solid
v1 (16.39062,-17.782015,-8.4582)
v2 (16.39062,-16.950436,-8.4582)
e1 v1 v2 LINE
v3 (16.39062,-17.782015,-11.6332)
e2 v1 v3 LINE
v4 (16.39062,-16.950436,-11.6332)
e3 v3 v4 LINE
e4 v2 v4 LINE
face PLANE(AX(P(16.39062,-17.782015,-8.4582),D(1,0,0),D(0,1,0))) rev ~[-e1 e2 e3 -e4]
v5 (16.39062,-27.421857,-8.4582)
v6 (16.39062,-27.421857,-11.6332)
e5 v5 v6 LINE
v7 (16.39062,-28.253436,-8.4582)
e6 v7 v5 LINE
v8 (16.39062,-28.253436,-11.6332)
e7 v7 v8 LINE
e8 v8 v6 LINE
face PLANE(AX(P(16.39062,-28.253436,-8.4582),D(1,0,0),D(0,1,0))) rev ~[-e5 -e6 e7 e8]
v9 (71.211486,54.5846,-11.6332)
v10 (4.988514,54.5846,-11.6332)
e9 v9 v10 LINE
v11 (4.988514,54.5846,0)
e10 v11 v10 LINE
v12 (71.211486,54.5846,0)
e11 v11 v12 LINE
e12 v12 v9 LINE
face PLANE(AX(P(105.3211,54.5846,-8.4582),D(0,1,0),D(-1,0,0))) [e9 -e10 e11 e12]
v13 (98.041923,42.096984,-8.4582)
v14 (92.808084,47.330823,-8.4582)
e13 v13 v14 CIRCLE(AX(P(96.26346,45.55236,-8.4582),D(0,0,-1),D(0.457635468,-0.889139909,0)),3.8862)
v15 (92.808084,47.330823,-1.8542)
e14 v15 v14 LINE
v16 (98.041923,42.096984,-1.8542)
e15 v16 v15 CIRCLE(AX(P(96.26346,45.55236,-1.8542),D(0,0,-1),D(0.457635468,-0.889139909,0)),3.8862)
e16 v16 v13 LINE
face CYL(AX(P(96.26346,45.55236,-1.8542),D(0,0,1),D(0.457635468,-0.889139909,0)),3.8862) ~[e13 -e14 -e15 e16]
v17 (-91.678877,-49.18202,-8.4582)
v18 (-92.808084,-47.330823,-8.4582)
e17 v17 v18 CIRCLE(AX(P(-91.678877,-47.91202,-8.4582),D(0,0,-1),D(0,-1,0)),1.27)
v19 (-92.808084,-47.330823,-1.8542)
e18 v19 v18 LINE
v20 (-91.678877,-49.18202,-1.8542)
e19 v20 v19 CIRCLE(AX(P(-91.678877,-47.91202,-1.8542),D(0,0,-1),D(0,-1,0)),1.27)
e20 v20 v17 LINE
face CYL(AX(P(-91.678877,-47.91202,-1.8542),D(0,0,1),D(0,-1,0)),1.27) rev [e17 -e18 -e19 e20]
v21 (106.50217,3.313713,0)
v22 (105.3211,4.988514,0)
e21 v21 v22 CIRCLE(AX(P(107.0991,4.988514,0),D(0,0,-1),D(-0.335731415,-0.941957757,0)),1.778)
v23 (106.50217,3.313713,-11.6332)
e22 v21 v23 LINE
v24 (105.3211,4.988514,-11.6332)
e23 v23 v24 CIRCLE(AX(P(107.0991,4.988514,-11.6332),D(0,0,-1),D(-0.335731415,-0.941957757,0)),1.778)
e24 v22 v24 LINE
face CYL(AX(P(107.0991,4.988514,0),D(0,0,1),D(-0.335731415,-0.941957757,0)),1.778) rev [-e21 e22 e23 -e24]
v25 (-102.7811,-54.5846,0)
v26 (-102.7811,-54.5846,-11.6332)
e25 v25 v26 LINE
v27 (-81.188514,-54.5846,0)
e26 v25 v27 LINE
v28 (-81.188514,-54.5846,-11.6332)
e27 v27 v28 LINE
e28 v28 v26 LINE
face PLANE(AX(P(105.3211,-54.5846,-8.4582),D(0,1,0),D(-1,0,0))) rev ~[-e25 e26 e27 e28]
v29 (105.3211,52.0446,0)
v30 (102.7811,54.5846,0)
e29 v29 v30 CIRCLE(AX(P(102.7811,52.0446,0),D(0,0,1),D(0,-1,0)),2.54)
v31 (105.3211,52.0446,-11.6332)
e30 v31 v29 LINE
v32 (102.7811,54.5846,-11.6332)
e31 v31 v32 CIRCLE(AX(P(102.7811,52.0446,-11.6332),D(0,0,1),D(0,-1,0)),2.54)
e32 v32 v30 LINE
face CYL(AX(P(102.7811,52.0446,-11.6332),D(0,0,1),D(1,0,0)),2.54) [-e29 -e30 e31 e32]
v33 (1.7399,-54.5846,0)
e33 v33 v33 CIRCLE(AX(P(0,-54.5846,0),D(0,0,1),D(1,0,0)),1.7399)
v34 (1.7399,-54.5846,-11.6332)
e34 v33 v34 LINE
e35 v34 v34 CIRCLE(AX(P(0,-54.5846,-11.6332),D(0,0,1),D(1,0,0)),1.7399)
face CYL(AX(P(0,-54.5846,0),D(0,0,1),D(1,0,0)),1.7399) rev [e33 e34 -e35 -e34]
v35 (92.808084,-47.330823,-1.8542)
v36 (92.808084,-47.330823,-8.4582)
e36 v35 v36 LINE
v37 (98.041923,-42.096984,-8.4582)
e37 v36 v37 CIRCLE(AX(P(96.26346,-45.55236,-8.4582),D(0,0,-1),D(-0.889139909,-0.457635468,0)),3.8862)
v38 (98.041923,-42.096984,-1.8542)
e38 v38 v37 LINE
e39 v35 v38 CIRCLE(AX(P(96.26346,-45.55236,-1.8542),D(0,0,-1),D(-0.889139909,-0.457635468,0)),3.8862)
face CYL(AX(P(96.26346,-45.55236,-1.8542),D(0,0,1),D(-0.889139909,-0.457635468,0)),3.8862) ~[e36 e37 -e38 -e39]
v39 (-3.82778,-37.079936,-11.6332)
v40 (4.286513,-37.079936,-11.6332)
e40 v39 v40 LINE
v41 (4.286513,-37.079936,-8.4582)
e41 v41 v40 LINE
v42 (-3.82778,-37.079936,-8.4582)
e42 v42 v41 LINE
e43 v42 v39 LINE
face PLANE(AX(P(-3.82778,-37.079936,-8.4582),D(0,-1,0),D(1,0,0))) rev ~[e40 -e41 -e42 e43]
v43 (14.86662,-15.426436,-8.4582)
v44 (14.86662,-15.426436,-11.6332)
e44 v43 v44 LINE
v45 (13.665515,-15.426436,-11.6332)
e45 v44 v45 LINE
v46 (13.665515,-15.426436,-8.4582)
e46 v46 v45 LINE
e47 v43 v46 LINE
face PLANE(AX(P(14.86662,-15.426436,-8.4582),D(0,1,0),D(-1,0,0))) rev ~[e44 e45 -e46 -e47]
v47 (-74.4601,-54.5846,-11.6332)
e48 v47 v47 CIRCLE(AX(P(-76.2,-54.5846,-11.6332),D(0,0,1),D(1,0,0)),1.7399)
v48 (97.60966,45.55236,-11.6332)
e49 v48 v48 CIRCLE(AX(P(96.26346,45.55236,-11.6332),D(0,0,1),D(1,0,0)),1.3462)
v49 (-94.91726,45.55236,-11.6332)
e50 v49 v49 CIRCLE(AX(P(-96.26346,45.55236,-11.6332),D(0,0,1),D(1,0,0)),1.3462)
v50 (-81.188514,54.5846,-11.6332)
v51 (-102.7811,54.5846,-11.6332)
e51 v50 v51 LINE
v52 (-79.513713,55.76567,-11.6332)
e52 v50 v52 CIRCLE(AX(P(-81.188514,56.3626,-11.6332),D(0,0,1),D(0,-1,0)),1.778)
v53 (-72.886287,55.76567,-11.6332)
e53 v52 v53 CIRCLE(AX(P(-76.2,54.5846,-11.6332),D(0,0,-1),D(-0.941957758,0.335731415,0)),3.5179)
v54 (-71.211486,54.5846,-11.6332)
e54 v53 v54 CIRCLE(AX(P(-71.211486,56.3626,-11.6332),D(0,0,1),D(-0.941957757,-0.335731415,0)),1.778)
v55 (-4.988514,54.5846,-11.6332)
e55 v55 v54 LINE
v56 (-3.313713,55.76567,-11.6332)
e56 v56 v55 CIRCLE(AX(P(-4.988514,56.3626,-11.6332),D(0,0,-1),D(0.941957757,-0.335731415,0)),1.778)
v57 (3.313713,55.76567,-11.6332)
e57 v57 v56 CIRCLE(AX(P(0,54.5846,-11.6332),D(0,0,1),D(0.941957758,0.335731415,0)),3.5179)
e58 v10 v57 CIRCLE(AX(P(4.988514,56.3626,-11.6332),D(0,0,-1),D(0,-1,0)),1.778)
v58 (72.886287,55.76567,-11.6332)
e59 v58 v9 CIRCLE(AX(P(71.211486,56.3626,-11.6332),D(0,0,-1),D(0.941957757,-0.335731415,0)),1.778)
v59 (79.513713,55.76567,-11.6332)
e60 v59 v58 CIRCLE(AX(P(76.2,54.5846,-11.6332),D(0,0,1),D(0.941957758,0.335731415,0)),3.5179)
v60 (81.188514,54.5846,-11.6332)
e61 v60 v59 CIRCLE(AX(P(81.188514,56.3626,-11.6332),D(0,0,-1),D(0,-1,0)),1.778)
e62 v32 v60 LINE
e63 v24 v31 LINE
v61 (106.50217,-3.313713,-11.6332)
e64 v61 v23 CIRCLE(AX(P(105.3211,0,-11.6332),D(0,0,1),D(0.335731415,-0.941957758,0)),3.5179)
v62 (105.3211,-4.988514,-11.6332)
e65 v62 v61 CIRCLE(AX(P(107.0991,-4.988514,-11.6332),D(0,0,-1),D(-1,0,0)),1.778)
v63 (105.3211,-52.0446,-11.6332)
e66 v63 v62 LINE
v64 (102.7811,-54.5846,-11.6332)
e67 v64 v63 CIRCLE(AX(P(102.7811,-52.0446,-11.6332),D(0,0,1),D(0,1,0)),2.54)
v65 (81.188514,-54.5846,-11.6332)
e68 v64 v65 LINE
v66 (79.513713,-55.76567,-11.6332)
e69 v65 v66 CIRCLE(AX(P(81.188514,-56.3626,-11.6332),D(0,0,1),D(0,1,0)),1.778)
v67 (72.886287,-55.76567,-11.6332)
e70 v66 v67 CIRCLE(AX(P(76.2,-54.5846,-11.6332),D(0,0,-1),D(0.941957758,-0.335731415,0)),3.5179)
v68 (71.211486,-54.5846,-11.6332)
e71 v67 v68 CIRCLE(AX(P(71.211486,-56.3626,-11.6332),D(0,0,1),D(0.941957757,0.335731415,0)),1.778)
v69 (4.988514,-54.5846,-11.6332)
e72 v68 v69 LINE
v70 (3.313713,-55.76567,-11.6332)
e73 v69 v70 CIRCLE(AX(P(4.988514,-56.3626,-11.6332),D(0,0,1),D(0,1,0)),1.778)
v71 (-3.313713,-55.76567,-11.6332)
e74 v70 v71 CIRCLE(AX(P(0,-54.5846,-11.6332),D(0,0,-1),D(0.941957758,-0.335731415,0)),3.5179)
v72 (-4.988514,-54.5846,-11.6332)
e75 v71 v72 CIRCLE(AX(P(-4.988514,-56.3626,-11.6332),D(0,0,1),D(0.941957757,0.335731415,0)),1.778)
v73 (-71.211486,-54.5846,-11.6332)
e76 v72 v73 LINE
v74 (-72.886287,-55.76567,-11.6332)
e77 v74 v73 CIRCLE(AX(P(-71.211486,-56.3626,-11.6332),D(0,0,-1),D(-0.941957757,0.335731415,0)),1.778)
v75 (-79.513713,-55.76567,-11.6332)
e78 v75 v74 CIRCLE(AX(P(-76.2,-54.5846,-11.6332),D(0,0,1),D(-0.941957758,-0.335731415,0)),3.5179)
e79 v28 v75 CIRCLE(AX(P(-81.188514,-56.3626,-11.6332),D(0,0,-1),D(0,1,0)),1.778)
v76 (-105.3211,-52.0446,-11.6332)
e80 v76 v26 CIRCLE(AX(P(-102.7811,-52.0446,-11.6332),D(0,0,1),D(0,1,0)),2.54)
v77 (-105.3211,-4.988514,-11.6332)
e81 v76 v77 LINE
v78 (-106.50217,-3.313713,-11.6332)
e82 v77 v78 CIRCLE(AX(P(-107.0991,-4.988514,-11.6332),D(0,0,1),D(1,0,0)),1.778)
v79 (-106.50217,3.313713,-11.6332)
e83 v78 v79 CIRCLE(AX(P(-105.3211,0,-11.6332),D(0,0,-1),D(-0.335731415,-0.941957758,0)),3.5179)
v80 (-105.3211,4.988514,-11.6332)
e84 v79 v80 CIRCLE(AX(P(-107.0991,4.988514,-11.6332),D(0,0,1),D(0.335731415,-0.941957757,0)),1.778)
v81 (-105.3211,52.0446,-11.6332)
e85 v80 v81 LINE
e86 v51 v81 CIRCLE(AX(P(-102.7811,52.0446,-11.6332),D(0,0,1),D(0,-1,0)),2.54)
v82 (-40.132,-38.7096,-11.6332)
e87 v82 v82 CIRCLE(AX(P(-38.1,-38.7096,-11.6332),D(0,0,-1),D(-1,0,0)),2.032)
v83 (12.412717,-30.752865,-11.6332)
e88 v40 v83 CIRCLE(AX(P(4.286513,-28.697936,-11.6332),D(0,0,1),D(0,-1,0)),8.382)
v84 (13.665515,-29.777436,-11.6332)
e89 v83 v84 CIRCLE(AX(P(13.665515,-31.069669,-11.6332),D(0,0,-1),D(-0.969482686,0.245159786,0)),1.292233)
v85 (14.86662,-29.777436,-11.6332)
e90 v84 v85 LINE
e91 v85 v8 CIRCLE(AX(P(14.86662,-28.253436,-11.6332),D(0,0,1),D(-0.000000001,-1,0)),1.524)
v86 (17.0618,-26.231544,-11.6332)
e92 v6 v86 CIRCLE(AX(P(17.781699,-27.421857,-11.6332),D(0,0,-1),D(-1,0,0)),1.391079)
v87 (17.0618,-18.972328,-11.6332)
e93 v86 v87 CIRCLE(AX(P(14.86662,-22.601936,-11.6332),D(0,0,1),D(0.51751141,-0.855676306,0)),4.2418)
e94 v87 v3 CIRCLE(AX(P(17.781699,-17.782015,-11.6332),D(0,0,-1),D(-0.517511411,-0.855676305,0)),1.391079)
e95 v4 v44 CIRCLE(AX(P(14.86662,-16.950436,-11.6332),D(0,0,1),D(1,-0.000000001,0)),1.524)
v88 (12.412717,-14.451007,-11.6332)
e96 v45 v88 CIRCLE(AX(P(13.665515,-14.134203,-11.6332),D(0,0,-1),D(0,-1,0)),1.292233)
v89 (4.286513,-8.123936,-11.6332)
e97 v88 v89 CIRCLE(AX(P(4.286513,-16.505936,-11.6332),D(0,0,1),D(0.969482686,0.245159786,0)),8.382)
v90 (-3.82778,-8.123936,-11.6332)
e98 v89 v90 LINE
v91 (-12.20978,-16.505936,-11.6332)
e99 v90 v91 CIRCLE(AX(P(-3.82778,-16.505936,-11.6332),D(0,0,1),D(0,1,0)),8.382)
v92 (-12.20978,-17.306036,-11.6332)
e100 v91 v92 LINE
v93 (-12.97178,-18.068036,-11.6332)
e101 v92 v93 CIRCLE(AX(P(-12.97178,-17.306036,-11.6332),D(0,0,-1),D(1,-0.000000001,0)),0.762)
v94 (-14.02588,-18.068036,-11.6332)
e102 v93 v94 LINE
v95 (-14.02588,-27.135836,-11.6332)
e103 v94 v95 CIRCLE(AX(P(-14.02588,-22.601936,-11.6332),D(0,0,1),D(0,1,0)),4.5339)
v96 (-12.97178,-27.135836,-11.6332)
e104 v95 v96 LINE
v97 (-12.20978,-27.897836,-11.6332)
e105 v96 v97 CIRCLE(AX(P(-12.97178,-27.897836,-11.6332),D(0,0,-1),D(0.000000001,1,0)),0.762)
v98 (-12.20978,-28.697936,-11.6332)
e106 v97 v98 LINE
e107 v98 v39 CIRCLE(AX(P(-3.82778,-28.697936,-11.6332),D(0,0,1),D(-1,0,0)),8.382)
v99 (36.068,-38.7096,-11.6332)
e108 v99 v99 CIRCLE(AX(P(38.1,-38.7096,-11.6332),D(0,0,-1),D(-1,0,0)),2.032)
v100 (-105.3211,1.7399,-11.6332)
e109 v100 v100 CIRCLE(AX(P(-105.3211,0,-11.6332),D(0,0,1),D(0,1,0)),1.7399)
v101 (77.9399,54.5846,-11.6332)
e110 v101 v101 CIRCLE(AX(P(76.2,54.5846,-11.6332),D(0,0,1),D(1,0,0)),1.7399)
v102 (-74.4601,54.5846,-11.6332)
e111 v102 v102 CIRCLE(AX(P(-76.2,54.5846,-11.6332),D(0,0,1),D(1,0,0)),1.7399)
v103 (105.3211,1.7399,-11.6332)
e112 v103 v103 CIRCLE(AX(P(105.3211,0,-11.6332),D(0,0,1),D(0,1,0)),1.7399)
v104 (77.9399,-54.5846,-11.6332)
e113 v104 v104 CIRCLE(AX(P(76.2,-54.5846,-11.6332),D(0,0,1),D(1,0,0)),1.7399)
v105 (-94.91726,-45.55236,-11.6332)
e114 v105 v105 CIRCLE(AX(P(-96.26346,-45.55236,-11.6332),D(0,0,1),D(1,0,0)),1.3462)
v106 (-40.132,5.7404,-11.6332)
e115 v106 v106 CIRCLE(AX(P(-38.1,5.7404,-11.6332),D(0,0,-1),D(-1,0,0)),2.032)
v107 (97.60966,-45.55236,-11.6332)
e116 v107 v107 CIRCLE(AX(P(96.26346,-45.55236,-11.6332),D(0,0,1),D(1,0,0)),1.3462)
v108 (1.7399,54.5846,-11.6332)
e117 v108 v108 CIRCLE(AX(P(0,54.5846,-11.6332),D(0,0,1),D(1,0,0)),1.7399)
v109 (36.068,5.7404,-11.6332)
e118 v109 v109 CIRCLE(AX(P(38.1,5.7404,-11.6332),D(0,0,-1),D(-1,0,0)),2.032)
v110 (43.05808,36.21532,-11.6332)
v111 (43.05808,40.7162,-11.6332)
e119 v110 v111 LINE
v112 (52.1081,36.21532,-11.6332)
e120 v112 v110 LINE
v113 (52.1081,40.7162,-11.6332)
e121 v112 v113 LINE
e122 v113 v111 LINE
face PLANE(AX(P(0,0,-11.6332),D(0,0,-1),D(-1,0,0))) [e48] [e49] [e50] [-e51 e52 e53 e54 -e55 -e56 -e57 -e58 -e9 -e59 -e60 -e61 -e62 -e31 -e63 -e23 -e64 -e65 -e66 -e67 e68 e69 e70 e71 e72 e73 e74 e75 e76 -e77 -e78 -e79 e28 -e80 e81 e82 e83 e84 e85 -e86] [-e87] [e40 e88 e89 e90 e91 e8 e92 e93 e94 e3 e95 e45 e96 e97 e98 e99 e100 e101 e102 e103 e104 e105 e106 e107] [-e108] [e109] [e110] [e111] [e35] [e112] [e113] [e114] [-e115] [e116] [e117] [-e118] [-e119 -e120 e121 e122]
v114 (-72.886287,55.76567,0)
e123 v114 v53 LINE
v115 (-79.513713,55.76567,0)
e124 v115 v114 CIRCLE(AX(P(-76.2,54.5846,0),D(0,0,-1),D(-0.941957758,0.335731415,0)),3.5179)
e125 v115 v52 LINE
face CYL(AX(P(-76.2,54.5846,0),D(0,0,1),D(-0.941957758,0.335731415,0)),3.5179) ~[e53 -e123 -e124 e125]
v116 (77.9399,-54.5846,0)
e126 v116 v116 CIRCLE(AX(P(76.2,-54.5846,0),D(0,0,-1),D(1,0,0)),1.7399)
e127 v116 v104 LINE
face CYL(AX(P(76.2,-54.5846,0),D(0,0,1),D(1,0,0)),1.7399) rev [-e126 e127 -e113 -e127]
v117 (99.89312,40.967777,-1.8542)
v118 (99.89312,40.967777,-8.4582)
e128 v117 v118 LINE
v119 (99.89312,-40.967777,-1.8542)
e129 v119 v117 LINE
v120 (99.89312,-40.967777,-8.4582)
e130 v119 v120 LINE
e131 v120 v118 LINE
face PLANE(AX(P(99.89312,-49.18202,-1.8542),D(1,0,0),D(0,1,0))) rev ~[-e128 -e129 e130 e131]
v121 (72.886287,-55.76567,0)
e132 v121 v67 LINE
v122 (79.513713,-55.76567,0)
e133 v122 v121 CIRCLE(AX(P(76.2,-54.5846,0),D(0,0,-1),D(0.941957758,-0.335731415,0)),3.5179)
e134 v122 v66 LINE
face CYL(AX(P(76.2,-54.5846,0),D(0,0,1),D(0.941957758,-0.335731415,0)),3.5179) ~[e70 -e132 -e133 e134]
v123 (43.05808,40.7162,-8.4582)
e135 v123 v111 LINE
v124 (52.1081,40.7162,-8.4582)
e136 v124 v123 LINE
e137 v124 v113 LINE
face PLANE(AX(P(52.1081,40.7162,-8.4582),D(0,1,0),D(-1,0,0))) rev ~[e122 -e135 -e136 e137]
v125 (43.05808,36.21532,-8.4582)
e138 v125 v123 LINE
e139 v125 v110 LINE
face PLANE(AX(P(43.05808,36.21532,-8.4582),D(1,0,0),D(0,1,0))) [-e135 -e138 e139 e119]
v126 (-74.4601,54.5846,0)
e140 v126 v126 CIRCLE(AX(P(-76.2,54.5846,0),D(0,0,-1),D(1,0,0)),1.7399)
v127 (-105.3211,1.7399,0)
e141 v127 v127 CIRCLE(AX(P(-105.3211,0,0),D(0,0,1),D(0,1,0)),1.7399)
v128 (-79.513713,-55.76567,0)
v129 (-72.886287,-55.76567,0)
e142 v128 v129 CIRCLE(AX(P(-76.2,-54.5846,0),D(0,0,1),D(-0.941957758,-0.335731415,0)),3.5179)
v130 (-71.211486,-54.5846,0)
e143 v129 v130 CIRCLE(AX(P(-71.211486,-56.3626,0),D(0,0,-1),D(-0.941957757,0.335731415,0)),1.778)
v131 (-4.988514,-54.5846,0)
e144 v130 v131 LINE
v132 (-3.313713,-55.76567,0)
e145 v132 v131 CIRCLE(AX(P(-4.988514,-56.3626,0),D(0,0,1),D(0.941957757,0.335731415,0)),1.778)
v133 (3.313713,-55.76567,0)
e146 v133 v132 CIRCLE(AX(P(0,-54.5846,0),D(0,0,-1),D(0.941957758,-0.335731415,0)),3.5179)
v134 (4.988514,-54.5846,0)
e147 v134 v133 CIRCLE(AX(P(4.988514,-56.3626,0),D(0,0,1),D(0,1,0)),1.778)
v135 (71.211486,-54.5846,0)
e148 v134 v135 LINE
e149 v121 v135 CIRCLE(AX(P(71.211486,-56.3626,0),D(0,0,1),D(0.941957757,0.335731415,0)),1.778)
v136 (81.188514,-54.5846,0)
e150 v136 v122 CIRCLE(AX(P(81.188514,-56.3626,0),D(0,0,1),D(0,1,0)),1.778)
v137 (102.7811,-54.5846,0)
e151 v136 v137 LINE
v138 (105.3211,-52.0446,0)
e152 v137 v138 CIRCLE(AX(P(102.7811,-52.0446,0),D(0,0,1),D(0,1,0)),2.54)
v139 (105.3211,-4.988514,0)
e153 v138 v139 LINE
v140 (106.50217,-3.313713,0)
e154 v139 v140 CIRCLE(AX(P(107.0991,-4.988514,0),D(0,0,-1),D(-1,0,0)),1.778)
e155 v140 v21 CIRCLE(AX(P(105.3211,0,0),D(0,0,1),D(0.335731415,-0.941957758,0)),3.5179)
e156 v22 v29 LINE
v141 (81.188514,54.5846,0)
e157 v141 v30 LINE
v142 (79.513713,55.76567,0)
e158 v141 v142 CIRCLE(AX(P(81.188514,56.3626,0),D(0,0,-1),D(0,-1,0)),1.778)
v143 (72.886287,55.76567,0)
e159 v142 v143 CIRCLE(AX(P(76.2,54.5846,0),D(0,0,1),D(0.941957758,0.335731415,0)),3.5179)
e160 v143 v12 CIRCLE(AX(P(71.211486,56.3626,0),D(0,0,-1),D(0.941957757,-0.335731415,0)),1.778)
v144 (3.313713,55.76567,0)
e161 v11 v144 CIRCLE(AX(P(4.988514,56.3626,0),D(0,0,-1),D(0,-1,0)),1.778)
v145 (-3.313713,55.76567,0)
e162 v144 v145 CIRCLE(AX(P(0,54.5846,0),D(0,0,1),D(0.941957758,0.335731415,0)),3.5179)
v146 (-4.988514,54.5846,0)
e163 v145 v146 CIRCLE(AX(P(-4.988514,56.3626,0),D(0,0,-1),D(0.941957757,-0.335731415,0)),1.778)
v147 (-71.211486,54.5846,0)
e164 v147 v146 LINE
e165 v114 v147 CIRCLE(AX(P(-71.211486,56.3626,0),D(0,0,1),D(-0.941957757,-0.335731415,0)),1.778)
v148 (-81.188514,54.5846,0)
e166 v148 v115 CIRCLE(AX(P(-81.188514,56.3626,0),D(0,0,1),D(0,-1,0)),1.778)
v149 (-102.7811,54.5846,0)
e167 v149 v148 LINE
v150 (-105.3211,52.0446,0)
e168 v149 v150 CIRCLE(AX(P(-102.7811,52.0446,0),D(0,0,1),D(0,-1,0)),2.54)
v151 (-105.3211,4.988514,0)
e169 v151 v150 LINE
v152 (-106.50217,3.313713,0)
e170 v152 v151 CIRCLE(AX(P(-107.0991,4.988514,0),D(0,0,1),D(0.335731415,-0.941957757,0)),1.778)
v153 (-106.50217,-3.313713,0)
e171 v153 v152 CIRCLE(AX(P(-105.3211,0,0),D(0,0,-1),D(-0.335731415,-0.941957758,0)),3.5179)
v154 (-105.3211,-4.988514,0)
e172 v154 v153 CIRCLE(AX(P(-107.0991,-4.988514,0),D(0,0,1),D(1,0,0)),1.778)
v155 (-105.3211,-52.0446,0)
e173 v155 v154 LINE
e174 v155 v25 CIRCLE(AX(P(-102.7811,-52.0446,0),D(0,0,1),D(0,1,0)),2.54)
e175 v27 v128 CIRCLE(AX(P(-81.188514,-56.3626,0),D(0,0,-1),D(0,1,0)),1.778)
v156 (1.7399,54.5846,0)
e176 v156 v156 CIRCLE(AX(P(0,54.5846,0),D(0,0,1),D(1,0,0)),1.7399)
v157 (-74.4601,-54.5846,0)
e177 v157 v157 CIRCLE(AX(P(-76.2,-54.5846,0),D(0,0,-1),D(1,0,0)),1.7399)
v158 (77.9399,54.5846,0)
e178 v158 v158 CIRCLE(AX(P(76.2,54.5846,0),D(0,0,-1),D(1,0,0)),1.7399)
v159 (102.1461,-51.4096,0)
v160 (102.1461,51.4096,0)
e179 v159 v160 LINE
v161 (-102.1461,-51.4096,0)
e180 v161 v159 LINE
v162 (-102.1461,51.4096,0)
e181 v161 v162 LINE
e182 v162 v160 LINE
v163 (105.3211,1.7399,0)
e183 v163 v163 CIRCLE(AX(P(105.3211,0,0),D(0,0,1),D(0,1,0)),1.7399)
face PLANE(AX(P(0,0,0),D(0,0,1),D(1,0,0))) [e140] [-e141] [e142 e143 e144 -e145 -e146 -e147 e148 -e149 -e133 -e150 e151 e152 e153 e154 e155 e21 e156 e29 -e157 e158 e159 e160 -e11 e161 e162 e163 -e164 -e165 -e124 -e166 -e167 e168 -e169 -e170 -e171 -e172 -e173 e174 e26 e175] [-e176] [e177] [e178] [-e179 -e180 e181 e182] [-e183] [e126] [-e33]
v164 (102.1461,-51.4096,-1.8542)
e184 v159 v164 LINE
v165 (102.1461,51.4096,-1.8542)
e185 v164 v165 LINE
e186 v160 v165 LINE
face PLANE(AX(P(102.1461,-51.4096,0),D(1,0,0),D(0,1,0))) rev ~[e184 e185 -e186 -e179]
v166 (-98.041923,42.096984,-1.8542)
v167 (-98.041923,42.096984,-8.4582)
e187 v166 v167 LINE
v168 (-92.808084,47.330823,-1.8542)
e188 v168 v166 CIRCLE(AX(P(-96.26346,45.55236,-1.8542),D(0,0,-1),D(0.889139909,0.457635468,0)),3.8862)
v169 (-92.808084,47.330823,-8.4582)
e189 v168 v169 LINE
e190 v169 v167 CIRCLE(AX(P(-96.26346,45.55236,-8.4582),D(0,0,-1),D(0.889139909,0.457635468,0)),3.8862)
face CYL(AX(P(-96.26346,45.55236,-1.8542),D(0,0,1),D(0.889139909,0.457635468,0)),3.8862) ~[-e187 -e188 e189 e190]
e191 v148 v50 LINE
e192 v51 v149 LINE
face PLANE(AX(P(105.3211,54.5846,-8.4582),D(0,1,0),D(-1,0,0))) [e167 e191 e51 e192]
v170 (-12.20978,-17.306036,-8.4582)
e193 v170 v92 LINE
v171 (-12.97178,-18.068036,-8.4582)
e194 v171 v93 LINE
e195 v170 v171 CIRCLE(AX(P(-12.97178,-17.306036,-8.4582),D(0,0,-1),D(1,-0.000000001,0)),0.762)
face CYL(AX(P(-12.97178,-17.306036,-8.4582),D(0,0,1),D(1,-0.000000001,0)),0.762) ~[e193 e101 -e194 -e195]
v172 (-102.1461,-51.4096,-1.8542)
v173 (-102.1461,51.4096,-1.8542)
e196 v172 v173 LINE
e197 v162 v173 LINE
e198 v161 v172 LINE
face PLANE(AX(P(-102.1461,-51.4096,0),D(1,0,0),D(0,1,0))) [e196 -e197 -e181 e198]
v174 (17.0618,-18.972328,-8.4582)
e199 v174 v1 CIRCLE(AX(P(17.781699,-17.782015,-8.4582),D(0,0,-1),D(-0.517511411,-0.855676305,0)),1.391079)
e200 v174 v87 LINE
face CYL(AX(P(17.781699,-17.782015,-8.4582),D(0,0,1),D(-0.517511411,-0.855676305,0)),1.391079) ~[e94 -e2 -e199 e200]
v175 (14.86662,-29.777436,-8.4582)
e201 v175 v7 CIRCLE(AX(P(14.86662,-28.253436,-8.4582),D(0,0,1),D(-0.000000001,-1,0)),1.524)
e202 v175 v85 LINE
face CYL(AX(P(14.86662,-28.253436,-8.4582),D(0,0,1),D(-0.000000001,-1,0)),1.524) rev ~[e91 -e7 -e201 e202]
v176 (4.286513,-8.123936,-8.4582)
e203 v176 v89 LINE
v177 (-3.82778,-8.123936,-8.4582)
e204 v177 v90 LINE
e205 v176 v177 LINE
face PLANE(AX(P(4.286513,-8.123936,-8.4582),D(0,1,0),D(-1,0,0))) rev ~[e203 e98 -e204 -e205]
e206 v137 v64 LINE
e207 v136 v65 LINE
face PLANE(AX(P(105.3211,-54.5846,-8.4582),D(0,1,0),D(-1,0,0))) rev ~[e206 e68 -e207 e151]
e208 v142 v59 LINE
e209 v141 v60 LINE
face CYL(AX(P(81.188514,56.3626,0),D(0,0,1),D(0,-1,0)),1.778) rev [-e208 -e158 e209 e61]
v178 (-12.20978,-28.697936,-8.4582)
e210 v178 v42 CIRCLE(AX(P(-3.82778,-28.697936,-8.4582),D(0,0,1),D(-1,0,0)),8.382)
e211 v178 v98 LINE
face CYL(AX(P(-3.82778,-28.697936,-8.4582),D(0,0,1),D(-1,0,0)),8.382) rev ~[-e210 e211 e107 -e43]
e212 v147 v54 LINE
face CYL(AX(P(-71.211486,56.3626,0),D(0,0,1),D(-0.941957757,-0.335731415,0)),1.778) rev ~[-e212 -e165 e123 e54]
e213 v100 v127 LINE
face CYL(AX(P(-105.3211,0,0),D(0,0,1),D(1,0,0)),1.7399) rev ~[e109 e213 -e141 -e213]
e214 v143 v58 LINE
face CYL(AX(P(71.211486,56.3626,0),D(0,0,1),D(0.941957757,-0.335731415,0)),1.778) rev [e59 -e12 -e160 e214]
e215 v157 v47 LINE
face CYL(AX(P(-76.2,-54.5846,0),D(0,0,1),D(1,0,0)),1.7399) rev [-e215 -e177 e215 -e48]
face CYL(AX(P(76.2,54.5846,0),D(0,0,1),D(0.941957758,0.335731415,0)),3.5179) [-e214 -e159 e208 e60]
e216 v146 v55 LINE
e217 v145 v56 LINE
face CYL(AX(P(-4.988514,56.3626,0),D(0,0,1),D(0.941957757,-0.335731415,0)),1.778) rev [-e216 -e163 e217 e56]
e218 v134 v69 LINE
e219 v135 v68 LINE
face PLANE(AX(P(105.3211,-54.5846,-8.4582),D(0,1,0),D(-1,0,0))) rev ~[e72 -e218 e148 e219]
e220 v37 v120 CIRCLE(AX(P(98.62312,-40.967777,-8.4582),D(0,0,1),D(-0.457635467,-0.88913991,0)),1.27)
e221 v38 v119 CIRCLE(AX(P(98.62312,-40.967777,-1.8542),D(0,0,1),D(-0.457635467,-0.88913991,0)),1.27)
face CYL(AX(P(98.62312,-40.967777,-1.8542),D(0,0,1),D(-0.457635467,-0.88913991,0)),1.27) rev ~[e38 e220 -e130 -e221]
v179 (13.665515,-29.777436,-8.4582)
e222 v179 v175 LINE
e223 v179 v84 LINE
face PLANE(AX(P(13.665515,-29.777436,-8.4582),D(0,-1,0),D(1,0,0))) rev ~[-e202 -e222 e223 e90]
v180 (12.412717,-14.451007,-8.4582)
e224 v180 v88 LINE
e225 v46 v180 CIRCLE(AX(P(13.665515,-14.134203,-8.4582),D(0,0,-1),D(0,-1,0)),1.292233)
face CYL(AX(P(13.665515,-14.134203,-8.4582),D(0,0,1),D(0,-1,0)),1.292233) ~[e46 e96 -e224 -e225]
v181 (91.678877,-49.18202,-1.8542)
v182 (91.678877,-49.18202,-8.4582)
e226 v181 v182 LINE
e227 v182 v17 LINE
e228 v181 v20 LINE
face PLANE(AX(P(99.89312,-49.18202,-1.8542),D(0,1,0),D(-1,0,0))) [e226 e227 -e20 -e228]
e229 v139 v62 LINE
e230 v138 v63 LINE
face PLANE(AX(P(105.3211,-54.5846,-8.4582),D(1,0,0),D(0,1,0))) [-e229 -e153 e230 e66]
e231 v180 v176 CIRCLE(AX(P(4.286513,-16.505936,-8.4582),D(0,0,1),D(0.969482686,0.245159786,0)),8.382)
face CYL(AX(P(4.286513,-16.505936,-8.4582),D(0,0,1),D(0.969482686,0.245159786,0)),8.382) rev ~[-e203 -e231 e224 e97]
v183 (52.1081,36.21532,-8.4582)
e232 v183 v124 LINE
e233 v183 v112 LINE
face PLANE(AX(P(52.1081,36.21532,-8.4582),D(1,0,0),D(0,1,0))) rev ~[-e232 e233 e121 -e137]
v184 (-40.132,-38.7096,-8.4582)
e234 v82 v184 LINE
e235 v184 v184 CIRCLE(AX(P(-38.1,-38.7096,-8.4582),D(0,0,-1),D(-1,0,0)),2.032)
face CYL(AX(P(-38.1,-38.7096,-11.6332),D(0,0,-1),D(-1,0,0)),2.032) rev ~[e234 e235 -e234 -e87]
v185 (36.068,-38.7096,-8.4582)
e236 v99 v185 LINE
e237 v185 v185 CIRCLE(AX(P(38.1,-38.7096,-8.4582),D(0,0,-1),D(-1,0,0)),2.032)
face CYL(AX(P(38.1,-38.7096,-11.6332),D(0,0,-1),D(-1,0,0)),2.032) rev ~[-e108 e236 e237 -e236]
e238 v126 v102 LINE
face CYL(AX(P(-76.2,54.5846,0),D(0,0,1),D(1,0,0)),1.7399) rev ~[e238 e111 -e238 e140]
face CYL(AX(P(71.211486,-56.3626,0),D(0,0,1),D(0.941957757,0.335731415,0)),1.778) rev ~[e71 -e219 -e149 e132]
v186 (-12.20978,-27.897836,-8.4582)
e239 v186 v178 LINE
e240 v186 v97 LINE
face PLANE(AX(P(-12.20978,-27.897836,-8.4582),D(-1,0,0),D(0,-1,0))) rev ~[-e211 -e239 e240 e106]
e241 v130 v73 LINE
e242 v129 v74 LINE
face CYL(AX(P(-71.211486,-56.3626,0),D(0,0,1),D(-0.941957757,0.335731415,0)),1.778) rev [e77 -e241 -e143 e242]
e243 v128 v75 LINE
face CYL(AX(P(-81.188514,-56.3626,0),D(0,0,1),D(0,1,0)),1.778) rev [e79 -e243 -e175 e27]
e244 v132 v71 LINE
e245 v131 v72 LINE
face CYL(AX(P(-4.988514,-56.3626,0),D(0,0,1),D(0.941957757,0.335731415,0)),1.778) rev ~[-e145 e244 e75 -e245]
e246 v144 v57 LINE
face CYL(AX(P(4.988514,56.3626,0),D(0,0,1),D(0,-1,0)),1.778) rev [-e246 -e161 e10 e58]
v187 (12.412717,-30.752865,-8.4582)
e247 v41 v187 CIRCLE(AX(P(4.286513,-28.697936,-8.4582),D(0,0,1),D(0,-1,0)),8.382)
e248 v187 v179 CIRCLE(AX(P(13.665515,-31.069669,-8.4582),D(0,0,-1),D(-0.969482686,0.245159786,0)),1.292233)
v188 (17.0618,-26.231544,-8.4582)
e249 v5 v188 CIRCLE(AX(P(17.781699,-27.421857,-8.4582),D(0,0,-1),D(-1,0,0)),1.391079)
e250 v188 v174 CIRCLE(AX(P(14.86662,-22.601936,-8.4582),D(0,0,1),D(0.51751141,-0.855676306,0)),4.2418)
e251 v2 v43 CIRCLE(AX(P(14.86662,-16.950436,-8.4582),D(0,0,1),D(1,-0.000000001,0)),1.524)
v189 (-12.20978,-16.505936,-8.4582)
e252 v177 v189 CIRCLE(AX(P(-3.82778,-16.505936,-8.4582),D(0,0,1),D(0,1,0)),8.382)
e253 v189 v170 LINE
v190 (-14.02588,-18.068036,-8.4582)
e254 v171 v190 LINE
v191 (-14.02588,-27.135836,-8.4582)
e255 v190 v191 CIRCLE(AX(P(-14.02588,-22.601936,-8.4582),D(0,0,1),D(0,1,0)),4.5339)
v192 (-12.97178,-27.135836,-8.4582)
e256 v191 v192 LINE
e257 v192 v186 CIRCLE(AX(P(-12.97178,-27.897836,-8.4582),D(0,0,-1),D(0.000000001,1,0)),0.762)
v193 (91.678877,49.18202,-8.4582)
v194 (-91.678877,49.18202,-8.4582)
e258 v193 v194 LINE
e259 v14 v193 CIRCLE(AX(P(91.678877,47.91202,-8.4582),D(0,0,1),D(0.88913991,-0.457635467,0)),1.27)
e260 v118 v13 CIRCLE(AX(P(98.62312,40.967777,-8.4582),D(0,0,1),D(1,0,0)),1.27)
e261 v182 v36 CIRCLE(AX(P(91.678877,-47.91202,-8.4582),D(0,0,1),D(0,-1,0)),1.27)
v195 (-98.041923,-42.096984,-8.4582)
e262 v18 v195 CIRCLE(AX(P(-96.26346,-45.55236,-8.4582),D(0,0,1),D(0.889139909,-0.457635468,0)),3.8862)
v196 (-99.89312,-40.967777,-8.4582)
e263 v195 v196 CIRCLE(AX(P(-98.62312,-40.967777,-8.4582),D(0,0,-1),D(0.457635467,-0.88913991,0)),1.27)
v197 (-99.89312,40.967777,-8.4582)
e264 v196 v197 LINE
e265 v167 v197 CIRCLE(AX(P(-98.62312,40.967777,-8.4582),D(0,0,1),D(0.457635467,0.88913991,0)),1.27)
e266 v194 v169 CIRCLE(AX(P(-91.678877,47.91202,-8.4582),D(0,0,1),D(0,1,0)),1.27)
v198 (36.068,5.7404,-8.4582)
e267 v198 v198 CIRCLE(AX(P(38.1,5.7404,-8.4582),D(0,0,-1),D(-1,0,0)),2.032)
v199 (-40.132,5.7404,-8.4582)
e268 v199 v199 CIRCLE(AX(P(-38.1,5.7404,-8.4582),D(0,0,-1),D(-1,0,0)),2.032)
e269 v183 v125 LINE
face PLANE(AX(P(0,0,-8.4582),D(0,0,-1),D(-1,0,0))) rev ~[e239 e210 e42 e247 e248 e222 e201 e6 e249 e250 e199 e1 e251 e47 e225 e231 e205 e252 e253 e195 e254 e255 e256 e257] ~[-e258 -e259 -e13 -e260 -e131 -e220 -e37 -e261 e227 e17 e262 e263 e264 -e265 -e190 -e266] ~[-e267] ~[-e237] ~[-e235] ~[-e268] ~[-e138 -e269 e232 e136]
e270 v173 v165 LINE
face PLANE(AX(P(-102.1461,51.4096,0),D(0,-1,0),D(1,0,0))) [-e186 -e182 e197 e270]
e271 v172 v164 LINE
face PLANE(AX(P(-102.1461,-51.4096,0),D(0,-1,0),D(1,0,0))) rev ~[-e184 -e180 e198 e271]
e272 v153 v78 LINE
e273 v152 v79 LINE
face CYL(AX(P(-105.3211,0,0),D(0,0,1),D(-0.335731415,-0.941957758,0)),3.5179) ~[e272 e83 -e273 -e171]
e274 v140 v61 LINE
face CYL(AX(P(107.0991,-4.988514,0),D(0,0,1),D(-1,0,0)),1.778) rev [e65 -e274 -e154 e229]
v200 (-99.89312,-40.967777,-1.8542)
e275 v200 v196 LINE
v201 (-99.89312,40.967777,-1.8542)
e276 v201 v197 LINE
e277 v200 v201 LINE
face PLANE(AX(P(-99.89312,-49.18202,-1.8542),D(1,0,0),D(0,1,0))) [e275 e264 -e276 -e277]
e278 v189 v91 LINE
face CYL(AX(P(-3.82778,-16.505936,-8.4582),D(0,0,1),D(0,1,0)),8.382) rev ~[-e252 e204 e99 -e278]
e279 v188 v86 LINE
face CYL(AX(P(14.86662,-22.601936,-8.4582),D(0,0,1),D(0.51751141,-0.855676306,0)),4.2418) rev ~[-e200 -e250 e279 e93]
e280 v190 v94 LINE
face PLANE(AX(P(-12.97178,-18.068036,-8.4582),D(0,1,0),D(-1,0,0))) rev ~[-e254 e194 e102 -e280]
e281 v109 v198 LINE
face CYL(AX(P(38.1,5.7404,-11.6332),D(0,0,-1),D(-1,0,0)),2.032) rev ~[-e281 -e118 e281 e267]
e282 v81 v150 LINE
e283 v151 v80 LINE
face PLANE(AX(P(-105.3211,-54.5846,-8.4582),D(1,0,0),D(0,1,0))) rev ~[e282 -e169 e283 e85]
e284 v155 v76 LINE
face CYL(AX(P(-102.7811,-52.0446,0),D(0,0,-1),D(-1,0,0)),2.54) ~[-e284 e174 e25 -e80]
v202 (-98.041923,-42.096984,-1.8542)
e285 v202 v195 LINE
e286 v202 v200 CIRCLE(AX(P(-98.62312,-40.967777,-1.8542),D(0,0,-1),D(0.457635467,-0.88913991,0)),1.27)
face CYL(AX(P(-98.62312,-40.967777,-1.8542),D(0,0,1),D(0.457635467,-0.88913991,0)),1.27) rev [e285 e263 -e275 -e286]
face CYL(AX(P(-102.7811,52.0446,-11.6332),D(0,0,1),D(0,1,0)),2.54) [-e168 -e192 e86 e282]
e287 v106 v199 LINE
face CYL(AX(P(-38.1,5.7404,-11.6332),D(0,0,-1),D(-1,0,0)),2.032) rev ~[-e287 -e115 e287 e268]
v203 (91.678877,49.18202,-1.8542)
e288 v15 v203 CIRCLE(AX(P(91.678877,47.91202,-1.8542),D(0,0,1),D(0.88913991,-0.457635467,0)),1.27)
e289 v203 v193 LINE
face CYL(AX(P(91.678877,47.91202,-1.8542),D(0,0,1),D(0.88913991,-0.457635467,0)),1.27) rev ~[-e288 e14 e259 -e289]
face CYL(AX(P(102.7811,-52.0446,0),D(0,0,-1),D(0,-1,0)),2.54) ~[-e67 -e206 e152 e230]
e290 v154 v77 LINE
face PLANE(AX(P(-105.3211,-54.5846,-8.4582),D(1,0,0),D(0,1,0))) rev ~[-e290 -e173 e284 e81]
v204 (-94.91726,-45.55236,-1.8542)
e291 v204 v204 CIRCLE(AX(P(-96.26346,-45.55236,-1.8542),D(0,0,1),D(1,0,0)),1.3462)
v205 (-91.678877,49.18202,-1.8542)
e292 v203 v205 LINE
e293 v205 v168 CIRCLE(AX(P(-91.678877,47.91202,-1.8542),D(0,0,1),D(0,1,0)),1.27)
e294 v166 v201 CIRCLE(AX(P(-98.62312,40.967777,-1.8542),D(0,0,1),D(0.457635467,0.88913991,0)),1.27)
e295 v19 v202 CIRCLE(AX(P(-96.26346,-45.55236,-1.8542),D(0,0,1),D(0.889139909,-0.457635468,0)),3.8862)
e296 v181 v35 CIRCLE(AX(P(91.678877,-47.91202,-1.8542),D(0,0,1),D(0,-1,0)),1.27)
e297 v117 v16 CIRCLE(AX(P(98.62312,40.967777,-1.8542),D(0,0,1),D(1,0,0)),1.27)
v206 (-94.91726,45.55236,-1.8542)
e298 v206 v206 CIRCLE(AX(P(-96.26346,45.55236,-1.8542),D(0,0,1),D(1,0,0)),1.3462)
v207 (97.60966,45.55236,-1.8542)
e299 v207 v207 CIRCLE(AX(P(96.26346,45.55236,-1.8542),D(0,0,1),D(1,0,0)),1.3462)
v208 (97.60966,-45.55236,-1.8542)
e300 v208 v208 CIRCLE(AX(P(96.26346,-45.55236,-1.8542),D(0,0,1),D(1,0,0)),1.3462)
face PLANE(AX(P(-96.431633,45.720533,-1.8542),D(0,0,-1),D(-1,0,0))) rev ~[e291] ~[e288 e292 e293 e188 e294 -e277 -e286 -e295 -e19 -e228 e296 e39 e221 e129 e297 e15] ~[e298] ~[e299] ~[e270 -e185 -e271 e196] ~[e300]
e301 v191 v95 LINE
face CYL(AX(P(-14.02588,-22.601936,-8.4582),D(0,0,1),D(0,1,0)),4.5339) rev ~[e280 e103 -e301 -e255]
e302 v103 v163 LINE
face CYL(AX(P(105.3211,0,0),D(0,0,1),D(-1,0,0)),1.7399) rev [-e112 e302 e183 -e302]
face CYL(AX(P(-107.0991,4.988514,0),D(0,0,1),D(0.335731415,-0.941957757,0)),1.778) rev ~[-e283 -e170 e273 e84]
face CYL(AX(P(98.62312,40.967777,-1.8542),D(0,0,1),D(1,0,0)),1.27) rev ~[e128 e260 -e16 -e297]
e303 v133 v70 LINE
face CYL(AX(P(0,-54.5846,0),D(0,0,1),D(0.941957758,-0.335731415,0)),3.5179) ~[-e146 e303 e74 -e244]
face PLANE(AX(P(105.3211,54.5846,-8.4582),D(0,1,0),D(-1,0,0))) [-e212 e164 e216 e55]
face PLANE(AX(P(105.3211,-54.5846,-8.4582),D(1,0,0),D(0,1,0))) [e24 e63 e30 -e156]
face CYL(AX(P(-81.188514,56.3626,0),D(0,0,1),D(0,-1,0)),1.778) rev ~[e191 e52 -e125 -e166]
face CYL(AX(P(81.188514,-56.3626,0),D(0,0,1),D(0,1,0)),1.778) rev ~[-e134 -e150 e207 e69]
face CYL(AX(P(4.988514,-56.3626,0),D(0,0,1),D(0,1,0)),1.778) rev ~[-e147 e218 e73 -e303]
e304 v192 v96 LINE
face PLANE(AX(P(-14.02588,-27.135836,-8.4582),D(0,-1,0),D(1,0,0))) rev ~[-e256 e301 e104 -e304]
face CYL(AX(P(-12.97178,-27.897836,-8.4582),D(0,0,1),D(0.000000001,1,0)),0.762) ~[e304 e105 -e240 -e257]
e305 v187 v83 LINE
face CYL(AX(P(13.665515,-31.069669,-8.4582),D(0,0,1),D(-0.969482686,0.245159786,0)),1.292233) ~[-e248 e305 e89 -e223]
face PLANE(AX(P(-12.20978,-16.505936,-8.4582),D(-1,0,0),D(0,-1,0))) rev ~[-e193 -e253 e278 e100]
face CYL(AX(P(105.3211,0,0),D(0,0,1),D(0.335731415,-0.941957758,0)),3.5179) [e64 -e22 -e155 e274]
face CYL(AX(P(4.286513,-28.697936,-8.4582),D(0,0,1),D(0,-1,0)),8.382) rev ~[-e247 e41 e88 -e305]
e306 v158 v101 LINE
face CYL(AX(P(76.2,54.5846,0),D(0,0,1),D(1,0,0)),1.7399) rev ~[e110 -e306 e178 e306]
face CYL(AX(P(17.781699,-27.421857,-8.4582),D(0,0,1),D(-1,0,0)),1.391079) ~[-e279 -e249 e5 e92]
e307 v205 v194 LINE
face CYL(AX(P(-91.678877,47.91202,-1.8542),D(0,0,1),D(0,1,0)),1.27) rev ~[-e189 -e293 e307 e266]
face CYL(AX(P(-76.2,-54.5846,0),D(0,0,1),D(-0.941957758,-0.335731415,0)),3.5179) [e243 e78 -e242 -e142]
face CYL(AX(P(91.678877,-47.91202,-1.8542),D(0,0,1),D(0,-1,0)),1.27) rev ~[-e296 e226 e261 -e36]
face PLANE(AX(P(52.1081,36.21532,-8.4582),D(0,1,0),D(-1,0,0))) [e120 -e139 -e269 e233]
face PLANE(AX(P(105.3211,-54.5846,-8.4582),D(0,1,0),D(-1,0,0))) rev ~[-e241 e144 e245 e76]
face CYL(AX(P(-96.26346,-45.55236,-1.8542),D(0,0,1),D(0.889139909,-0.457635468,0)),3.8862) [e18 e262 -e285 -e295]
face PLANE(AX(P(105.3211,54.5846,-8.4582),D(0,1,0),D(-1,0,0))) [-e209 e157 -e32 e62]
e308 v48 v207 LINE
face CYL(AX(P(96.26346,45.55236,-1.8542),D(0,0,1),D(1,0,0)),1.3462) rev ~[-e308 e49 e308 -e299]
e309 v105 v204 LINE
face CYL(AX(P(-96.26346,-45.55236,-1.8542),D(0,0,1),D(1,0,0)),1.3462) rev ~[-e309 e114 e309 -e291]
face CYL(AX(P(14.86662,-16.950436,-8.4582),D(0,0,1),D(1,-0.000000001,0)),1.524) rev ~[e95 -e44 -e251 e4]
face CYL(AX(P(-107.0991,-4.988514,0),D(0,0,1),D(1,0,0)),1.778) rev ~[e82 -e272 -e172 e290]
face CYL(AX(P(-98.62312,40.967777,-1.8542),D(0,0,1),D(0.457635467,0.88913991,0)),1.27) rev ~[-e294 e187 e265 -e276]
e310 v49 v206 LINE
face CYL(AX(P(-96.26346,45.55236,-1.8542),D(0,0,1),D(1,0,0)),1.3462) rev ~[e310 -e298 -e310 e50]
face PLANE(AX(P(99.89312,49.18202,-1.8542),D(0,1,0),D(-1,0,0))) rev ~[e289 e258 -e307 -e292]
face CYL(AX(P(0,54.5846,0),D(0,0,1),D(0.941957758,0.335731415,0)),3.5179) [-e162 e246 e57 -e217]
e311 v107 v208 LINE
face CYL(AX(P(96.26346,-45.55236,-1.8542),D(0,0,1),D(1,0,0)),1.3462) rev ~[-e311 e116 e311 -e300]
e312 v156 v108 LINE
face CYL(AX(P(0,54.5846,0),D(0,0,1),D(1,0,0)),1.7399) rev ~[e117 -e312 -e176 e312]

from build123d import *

# Parameters (mm, degrees)
SKETCH4_W           = 210.6422
SKETCH4_H           = 109.1692
SKETCH4_W_2         = 204.2922
SKETCH4_H_2         = 102.8192
BOSS_EXTRUDE1_DEPTH = 1.8542
SKETCH5_W           = 210.6422
SKETCH5_H           = 109.1692
SKETCH5_W_2         = 199.78624
SKETCH5_H_2         = 98.36404
BOSS_EXTRUDE2_DEPTH = 6.604
SKETCH6_W           = 210.6422
SKETCH6_H           = 109.1692
SKETCH6_W_2         = 9.05002
SKETCH6_H_2         = 4.50088
BOSS_EXTRUDE3_DEPTH = 3.175
SKETCH9_R           = 1.3462
BOSS_EXTRUDE4_DEPTH = 6.604
SKETCH9_2_R         = 1.3462
CUT_EXTRUDE3_DEPTH  = 9.779
CUT_EXTRUDE1_REACH  = 121.195
SKETCH10_R          = 2.032
CUT_EXTRUDE2_REACH  = 121.195
SKETCH11_R          = 1.7399
SKETCH11_3_R        = 1.7399
BOSS_EXTRUDE5_DEPTH = 11.6332
CUT_EXTRUDE4_REACH  = 122.846
SKETCH12_R          = 1.7399
SKETCH12_3_R        = 1.7399
BOSS_EXTRUDE6_DEPTH = 11.6332
FILLET1_R           = 2.54


with BuildPart() as part:
    # Sketch4 → Boss-Extrude1 (new body)
    with BuildSketch(Plane.XY):
        Rectangle(SKETCH4_W, SKETCH4_H)
        Rectangle(SKETCH4_W_2, SKETCH4_H_2, mode=Mode.SUBTRACT)
    extrude(amount=-BOSS_EXTRUDE1_DEPTH)

    # Sketch5 → Boss-Extrude2 (add)
    with BuildSketch(Plane(origin=(0, 0, -1.8542), x_dir=(-1, 0, 0), z_dir=(0, 0, -1))):
        Rectangle(SKETCH5_W, SKETCH5_H)
        Rectangle(SKETCH5_W_2, SKETCH5_H_2, mode=Mode.SUBTRACT)
    extrude(amount=BOSS_EXTRUDE2_DEPTH)

    # Sketch6 → Boss-Extrude3 (add)
    with BuildSketch(Plane(origin=(0, 0, -8.4582), x_dir=(-1, 0, 0), z_dir=(0, 0, -1))):
        Rectangle(SKETCH6_W, SKETCH6_H)
        with Locations((-47.58309, 38.46576)):
            Rectangle(SKETCH6_W_2, SKETCH6_H_2, mode=Mode.SUBTRACT)
        with BuildLine():
            Line((12.20978, -27.897836), (12.20978, -28.697936))
            ThreePointArc((12.20978, -28.697936), (9.75474904, -34.62490504), (3.82778, -37.079936))
            Line((3.82778, -37.079936), (-4.286513327, -37.079936))
            ThreePointArc((-4.286513327, -37.079936), (-9.435955354, -35.31164682), (-12.412717205, -30.752865327))
            ThreePointArc((-12.412717205, -30.752865327), (-12.871637448, -30.050048906), (-13.665514588, -29.777436))
            Line((-13.665514588, -29.777436), (-14.86662, -29.777436))
            ThreePointArc((-14.86662, -29.777436), (-15.944250735, -29.331066735), (-16.39062, -28.253436))
            Line((-16.39062, -28.253436), (-16.39062, -27.421857371))
            ThreePointArc((-16.39062, -27.421857371), (-16.569977638, -26.738606142), (-17.061799901, -26.231543753))
            ThreePointArc((-17.061799901, -26.231543753), (-19.10842, -22.601936), (-17.061799901, -18.972328247))
            ThreePointArc((-17.061799901, -18.972328247), (-16.569977638, -18.465265858), (-16.39062, -17.782014629))
            Line((-16.39062, -17.782014629), (-16.39062, -16.950436))
            ThreePointArc((-16.39062, -16.950436), (-15.944250735, -15.872805265), (-14.86662, -15.426436))
            Line((-14.86662, -15.426436), (-13.665514588, -15.426436))
            ThreePointArc((-13.665514588, -15.426436), (-12.871637448, -15.153823094), (-12.412717205, -14.451006673))
            ThreePointArc((-12.412717205, -14.451006673), (-9.435955354, -9.89222518), (-4.286513327, -8.123936))
            Line((-4.286513327, -8.123936), (3.82778, -8.123936))
            ThreePointArc((3.82778, -8.123936), (9.75474904, -10.57896696), (12.20978, -16.505936))
            Line((12.20978, -16.505936), (12.20978, -17.306036))
            ThreePointArc((12.20978, -17.306036), (12.432964633, -17.844851367), (12.97178, -18.068036))
            Line((12.97178, -18.068036), (14.02588, -18.068036))
            ThreePointArc((14.02588, -18.068036), (18.55978, -22.601936), (14.02588, -27.135836))
            Line((14.02588, -27.135836), (12.97178, -27.135836))
            ThreePointArc((12.97178, -27.135836), (12.432964633, -27.359020633), (12.20978, -27.897836))
        make_face(mode=Mode.SUBTRACT)
    extrude(amount=BOSS_EXTRUDE3_DEPTH)

    # Sketch9 → Boss-Extrude4 (add)
    # profile 1 of 4: a face of its own
    with BuildSketch(Plane.XY.offset(-1.8542)):
        with BuildLine():
            Line((-99.89312, 40.967776799), (-99.89312, 49.18202))
            Line((-99.89312, 49.18202), (-91.678876799, 49.18202))
            ThreePointArc((-91.678876799, 49.18202), (-92.763086245, 48.573374577), (-92.808084484, 47.330822956))
            ThreePointArc((-92.808084484, 47.330822956), (-93.515501627, 42.804401627), (-98.041922956, 42.096984484))
            ThreePointArc((-98.041922956, 42.096984484), (-99.284474577, 42.051986245), (-99.89312, 40.967776799))
        make_face()
        with Locations((-96.26346, 45.55236)):
            Circle(SKETCH9_R, mode=Mode.SUBTRACT)
    # profile 2 of 4: a face of its own
    with BuildSketch(Plane.XY.offset(-1.8542)):
        with BuildLine():
            Line((-99.89312, -40.967776799), (-99.89312, -49.18202))
            Line((-99.89312, -49.18202), (-91.678876799, -49.18202))
            ThreePointArc((-91.678876799, -49.18202), (-92.763086245, -48.573374577), (-92.808084484, -47.330822956))
            ThreePointArc((-92.808084484, -47.330822956), (-93.515501627, -42.804401627), (-98.041922956, -42.096984484))
            ThreePointArc((-98.041922956, -42.096984484), (-99.284474577, -42.051986245), (-99.89312, -40.967776799))
        make_face()
        with Locations((-96.26346, -45.55236)):
            Circle(SKETCH9_R, mode=Mode.SUBTRACT)
    # profile 3 of 4: a face of its own
    with BuildSketch(Plane.XY.offset(-1.8542)):
        with BuildLine():
            Line((99.89312, -40.967776799), (99.89312, -49.18202))
            Line((99.89312, -49.18202), (91.678876799, -49.18202))
            ThreePointArc((91.678876799, -49.18202), (92.763086245, -48.573374577), (92.808084484, -47.330822956))
            ThreePointArc((92.808084484, -47.330822956), (93.515501627, -42.804401627), (98.041922956, -42.096984484))
            ThreePointArc((98.041922956, -42.096984484), (99.284474577, -42.051986245), (99.89312, -40.967776799))
        make_face()
        with Locations((96.26346, -45.55236)):
            Circle(SKETCH9_R, mode=Mode.SUBTRACT)
    # profile 4 of 4: a face of its own
    with BuildSketch(Plane.XY.offset(-1.8542)):
        with BuildLine():
            Line((91.678876799, 49.18202), (99.89312, 49.18202))
            Line((99.89312, 49.18202), (99.89312, 40.967776799))
            ThreePointArc((99.89312, 40.967776799), (99.284474577, 42.051986245), (98.041922956, 42.096984484))
            ThreePointArc((98.041922956, 42.096984484), (93.515501627, 42.804401627), (92.808084484, 47.330822956))
            ThreePointArc((92.808084484, 47.330822956), (92.763086245, 48.573374577), (91.678876799, 49.18202))
        make_face()
        with Locations((96.26346, 45.55236)):
            Circle(SKETCH9_R, mode=Mode.SUBTRACT)
    extrude(amount=-BOSS_EXTRUDE4_DEPTH)

    # Sketch9<2> → Cut-Extrude3 (cut)
    with BuildSketch(Plane.XY.offset(-1.8542)):
        with Locations((-96.26346, 45.55236)):
            Circle(SKETCH9_2_R)
        with Locations((-96.26346, -45.55236)):
            Circle(SKETCH9_2_R)
        with Locations((96.26346, -45.55236)):
            Circle(SKETCH9_2_R)
        with Locations((96.26346, 45.55236)):
            Circle(SKETCH9_2_R)
    extrude(amount=-CUT_EXTRUDE3_DEPTH, mode=Mode.SUBTRACT)

    # Sketch10 → Cut-Extrude1 (cut, up to next)
    with BuildSketch(Plane(origin=(0, 0, -11.6332), x_dir=(-1, 0, 0), z_dir=(0, 0, -1)), mode=Mode.PRIVATE) as cut_extrude1_sk1:
        with Locations((-38.1, 5.7404)):
            Circle(SKETCH10_R)
    cut_extrude1_tool1 = extrude(cut_extrude1_sk1.sketch, amount=-CUT_EXTRUDE1_REACH, mode=Mode.PRIVATE) & part.part
    # Sketch10 → Cut-Extrude1 (cut, up to next)
    with BuildSketch(Plane(origin=(0, 0, -11.6332), x_dir=(-1, 0, 0), z_dir=(0, 0, -1)), mode=Mode.PRIVATE) as cut_extrude1_sk2:
        with Locations((-38.1, -38.7096)):
            Circle(SKETCH10_R)
    cut_extrude1_tool2 = extrude(cut_extrude1_sk2.sketch, amount=-CUT_EXTRUDE1_REACH, mode=Mode.PRIVATE) & part.part
    # Sketch10 → Cut-Extrude1 (cut, up to next)
    with BuildSketch(Plane(origin=(0, 0, -11.6332), x_dir=(-1, 0, 0), z_dir=(0, 0, -1)), mode=Mode.PRIVATE) as cut_extrude1_sk3:
        with Locations((38.1, -38.7096)):
            Circle(SKETCH10_R)
    cut_extrude1_tool3 = extrude(cut_extrude1_sk3.sketch, amount=-CUT_EXTRUDE1_REACH, mode=Mode.PRIVATE) & part.part
    # Sketch10 → Cut-Extrude1 (cut, up to next)
    with BuildSketch(Plane(origin=(0, 0, -11.6332), x_dir=(-1, 0, 0), z_dir=(0, 0, -1)), mode=Mode.PRIVATE) as cut_extrude1_sk4:
        with Locations((38.1, 5.7404)):
            Circle(SKETCH10_R)
    cut_extrude1_tool4 = extrude(cut_extrude1_sk4.sketch, amount=-CUT_EXTRUDE1_REACH, mode=Mode.PRIVATE) & part.part
    add(cut_extrude1_tool1.solids().sort_by_distance((38.1, 5.7404, -11.6332))[0], mode=Mode.SUBTRACT)
    add(cut_extrude1_tool2.solids().sort_by_distance((38.1, -38.7096, -11.6332))[0], mode=Mode.SUBTRACT)
    add(cut_extrude1_tool3.solids().sort_by_distance((-38.1, -38.7096, -11.6332))[0], mode=Mode.SUBTRACT)
    add(cut_extrude1_tool4.solids().sort_by_distance((-38.1, 5.7404, -11.6332))[0], mode=Mode.SUBTRACT)

    # Sketch11 → Cut-Extrude2 (cut, up to next)
    with BuildSketch(Plane.XY, mode=Mode.PRIVATE) as cut_extrude2_sk1:
        with Locations((-76.2, 54.5846)):
            Circle(SKETCH11_R)
    cut_extrude2_tool1 = extrude(cut_extrude2_sk1.sketch, amount=-CUT_EXTRUDE2_REACH, mode=Mode.PRIVATE) & part.part
    # Sketch11 → Cut-Extrude2 (cut, up to next)
    with BuildSketch(Plane.XY, mode=Mode.PRIVATE) as cut_extrude2_sk2:
        with Locations((0, 54.5846)):
            Circle(SKETCH11_R)
    cut_extrude2_tool2 = extrude(cut_extrude2_sk2.sketch, amount=-CUT_EXTRUDE2_REACH, mode=Mode.PRIVATE) & part.part
    # Sketch11 → Cut-Extrude2 (cut, up to next)
    with BuildSketch(Plane.XY, mode=Mode.PRIVATE) as cut_extrude2_sk3:
        with Locations((76.2, 54.5846)):
            Circle(SKETCH11_R)
    cut_extrude2_tool3 = extrude(cut_extrude2_sk3.sketch, amount=-CUT_EXTRUDE2_REACH, mode=Mode.PRIVATE) & part.part
    cut_extrude2_1 = cut_extrude2_tool1.solids().sort_by_distance((-76.2, 54.5846, 0))[0]
    add(cut_extrude2_1, mode=Mode.SUBTRACT)
    cut_extrude2_2 = cut_extrude2_tool2.solids().sort_by_distance((0, 54.5846, 0))[0]
    add(cut_extrude2_2, mode=Mode.SUBTRACT)
    cut_extrude2_3 = cut_extrude2_tool3.solids().sort_by_distance((76.2, 54.5846, 0))[0]
    add(cut_extrude2_3, mode=Mode.SUBTRACT)
    cut_extrude2 = cut_extrude2_1 + cut_extrude2_2 + cut_extrude2_3  # Cut-Extrude2 as one shape, for the pattern or mirror that repeats it

    # Sketch11<3> → Boss-Extrude5 (add)
    # profile 1 of 3: a face of its own
    with BuildSketch(Plane.XY):
        with BuildLine():
            Line((-4.988514088, 54.5846), (-4.988514088, 51.5366))
            Line((-4.988514088, 51.5366), (4.988514088, 51.5366))
            Line((4.988514088, 51.5366), (4.988514088, 54.5846))
            ThreePointArc((4.988514088, 54.5846), (3.963833248, 54.909564152), (3.313713195, 55.765669544))
            ThreePointArc((3.313713195, 55.765669544), (0, 58.1025), (-3.313713195, 55.765669544))
            ThreePointArc((-3.313713195, 55.765669544), (-3.963833248, 54.909564152), (-4.988514088, 54.5846))
        make_face()
        with Locations((0, 54.5846)):
            Circle(SKETCH11_3_R, mode=Mode.SUBTRACT)
    # profile 2 of 3: a face of its own
    with BuildSketch(Plane.XY):
        with BuildLine():
            Line((71.211485912, 54.5846), (71.211485912, 51.5366))
            Line((71.211485912, 51.5366), (81.188514088, 51.5366))
            Line((81.188514088, 51.5366), (81.188514088, 54.5846))
            ThreePointArc((81.188514088, 54.5846), (80.163833248, 54.909564152), (79.513713195, 55.765669544))
            ThreePointArc((79.513713195, 55.765669544), (76.2, 58.1025), (72.886286805, 55.765669544))
            ThreePointArc((72.886286805, 55.765669544), (72.236166752, 54.909564152), (71.211485912, 54.5846))
        make_face()
        with Locations((76.2, 54.5846)):
            Circle(SKETCH11_3_R, mode=Mode.SUBTRACT)
    # profile 3 of 3: a face of its own
    with BuildSketch(Plane.XY):
        with BuildLine():
            Line((-71.211485912, 54.5846), (-71.211485912, 51.5366))
            Line((-71.211485912, 51.5366), (-81.188514088, 51.5366))
            Line((-81.188514088, 51.5366), (-81.188514088, 54.5846))
            ThreePointArc((-81.188514088, 54.5846), (-80.163833248, 54.909564152), (-79.513713195, 55.765669544))
            ThreePointArc((-79.513713195, 55.765669544), (-76.2, 58.1025), (-72.886286805, 55.765669544))
            ThreePointArc((-72.886286805, 55.765669544), (-72.236166752, 54.909564152), (-71.211485912, 54.5846))
        make_face()
        with Locations((-76.2, 54.5846)):
            Circle(SKETCH11_3_R, mode=Mode.SUBTRACT)
    boss_extrude5 = extrude(amount=-BOSS_EXTRUDE5_DEPTH)

    # Mirror1: Cut-Extrude2, Boss-Extrude5 across plane
    add(cut_extrude2.mirror(Plane.ZX), mode=Mode.SUBTRACT)
    add(boss_extrude5.mirror(Plane.ZX))

    # Sketch12 → Cut-Extrude4 (cut, up to next)
    with BuildSketch(Plane.XY, mode=Mode.PRIVATE) as cut_extrude4_sk1:
        with Locations((-105.3211, 0)):
            Circle(SKETCH12_R)
    cut_extrude4_tool1 = extrude(cut_extrude4_sk1.sketch, amount=-CUT_EXTRUDE4_REACH, mode=Mode.PRIVATE) & part.part
    cut_extrude4 = cut_extrude4_tool1.solids().sort_by_distance((-105.3211, 0, 0))[0]
    add(cut_extrude4, mode=Mode.SUBTRACT)

    # Sketch12<3> → Boss-Extrude6 (add)
    with BuildSketch(Plane.XY):
        with BuildLine():
            Line((-105.3211, 4.988514088), (-102.2731, 4.988514088))
            Line((-102.2731, 4.988514088), (-102.2731, -4.988514088))
            Line((-102.2731, -4.988514088), (-105.3211, -4.988514088))
            ThreePointArc((-105.3211, -4.988514088), (-105.646064152, -3.963833248), (-106.502169544, -3.313713195))
            ThreePointArc((-106.502169544, -3.313713195), (-108.839, 0), (-106.502169544, 3.313713195))
            ThreePointArc((-106.502169544, 3.313713195), (-105.646064152, 3.963833248), (-105.3211, 4.988514088))
        make_face()
        with Locations((-105.3211, 0)):
            Circle(SKETCH12_3_R, mode=Mode.SUBTRACT)
    boss_extrude6 = extrude(amount=-BOSS_EXTRUDE6_DEPTH)

    # Mirror2: Cut-Extrude4, Boss-Extrude6 across plane
    add(cut_extrude4.mirror(Plane(origin=(0, 0, 0), x_dir=(0, 0, 1), z_dir=(1, 0, 0))), mode=Mode.SUBTRACT)
    add(boss_extrude6.mirror(Plane(origin=(0, 0, 0), x_dir=(0, 0, 1), z_dir=(1, 0, 0))))

    # Fillet1
    fillet1_edges = [part.edges().sort_by_distance(p)[0] for p in [
        (-105.3211, -54.5846, -5.8166),
        (105.3211, -54.5846, -5.8166),
        (105.3211, 54.5846, -5.8166),
        (-105.3211, 54.5846, -5.8166),
    ]]
    fillet(fillet1_edges, radius=FILLET1_R)


solid = part.part
